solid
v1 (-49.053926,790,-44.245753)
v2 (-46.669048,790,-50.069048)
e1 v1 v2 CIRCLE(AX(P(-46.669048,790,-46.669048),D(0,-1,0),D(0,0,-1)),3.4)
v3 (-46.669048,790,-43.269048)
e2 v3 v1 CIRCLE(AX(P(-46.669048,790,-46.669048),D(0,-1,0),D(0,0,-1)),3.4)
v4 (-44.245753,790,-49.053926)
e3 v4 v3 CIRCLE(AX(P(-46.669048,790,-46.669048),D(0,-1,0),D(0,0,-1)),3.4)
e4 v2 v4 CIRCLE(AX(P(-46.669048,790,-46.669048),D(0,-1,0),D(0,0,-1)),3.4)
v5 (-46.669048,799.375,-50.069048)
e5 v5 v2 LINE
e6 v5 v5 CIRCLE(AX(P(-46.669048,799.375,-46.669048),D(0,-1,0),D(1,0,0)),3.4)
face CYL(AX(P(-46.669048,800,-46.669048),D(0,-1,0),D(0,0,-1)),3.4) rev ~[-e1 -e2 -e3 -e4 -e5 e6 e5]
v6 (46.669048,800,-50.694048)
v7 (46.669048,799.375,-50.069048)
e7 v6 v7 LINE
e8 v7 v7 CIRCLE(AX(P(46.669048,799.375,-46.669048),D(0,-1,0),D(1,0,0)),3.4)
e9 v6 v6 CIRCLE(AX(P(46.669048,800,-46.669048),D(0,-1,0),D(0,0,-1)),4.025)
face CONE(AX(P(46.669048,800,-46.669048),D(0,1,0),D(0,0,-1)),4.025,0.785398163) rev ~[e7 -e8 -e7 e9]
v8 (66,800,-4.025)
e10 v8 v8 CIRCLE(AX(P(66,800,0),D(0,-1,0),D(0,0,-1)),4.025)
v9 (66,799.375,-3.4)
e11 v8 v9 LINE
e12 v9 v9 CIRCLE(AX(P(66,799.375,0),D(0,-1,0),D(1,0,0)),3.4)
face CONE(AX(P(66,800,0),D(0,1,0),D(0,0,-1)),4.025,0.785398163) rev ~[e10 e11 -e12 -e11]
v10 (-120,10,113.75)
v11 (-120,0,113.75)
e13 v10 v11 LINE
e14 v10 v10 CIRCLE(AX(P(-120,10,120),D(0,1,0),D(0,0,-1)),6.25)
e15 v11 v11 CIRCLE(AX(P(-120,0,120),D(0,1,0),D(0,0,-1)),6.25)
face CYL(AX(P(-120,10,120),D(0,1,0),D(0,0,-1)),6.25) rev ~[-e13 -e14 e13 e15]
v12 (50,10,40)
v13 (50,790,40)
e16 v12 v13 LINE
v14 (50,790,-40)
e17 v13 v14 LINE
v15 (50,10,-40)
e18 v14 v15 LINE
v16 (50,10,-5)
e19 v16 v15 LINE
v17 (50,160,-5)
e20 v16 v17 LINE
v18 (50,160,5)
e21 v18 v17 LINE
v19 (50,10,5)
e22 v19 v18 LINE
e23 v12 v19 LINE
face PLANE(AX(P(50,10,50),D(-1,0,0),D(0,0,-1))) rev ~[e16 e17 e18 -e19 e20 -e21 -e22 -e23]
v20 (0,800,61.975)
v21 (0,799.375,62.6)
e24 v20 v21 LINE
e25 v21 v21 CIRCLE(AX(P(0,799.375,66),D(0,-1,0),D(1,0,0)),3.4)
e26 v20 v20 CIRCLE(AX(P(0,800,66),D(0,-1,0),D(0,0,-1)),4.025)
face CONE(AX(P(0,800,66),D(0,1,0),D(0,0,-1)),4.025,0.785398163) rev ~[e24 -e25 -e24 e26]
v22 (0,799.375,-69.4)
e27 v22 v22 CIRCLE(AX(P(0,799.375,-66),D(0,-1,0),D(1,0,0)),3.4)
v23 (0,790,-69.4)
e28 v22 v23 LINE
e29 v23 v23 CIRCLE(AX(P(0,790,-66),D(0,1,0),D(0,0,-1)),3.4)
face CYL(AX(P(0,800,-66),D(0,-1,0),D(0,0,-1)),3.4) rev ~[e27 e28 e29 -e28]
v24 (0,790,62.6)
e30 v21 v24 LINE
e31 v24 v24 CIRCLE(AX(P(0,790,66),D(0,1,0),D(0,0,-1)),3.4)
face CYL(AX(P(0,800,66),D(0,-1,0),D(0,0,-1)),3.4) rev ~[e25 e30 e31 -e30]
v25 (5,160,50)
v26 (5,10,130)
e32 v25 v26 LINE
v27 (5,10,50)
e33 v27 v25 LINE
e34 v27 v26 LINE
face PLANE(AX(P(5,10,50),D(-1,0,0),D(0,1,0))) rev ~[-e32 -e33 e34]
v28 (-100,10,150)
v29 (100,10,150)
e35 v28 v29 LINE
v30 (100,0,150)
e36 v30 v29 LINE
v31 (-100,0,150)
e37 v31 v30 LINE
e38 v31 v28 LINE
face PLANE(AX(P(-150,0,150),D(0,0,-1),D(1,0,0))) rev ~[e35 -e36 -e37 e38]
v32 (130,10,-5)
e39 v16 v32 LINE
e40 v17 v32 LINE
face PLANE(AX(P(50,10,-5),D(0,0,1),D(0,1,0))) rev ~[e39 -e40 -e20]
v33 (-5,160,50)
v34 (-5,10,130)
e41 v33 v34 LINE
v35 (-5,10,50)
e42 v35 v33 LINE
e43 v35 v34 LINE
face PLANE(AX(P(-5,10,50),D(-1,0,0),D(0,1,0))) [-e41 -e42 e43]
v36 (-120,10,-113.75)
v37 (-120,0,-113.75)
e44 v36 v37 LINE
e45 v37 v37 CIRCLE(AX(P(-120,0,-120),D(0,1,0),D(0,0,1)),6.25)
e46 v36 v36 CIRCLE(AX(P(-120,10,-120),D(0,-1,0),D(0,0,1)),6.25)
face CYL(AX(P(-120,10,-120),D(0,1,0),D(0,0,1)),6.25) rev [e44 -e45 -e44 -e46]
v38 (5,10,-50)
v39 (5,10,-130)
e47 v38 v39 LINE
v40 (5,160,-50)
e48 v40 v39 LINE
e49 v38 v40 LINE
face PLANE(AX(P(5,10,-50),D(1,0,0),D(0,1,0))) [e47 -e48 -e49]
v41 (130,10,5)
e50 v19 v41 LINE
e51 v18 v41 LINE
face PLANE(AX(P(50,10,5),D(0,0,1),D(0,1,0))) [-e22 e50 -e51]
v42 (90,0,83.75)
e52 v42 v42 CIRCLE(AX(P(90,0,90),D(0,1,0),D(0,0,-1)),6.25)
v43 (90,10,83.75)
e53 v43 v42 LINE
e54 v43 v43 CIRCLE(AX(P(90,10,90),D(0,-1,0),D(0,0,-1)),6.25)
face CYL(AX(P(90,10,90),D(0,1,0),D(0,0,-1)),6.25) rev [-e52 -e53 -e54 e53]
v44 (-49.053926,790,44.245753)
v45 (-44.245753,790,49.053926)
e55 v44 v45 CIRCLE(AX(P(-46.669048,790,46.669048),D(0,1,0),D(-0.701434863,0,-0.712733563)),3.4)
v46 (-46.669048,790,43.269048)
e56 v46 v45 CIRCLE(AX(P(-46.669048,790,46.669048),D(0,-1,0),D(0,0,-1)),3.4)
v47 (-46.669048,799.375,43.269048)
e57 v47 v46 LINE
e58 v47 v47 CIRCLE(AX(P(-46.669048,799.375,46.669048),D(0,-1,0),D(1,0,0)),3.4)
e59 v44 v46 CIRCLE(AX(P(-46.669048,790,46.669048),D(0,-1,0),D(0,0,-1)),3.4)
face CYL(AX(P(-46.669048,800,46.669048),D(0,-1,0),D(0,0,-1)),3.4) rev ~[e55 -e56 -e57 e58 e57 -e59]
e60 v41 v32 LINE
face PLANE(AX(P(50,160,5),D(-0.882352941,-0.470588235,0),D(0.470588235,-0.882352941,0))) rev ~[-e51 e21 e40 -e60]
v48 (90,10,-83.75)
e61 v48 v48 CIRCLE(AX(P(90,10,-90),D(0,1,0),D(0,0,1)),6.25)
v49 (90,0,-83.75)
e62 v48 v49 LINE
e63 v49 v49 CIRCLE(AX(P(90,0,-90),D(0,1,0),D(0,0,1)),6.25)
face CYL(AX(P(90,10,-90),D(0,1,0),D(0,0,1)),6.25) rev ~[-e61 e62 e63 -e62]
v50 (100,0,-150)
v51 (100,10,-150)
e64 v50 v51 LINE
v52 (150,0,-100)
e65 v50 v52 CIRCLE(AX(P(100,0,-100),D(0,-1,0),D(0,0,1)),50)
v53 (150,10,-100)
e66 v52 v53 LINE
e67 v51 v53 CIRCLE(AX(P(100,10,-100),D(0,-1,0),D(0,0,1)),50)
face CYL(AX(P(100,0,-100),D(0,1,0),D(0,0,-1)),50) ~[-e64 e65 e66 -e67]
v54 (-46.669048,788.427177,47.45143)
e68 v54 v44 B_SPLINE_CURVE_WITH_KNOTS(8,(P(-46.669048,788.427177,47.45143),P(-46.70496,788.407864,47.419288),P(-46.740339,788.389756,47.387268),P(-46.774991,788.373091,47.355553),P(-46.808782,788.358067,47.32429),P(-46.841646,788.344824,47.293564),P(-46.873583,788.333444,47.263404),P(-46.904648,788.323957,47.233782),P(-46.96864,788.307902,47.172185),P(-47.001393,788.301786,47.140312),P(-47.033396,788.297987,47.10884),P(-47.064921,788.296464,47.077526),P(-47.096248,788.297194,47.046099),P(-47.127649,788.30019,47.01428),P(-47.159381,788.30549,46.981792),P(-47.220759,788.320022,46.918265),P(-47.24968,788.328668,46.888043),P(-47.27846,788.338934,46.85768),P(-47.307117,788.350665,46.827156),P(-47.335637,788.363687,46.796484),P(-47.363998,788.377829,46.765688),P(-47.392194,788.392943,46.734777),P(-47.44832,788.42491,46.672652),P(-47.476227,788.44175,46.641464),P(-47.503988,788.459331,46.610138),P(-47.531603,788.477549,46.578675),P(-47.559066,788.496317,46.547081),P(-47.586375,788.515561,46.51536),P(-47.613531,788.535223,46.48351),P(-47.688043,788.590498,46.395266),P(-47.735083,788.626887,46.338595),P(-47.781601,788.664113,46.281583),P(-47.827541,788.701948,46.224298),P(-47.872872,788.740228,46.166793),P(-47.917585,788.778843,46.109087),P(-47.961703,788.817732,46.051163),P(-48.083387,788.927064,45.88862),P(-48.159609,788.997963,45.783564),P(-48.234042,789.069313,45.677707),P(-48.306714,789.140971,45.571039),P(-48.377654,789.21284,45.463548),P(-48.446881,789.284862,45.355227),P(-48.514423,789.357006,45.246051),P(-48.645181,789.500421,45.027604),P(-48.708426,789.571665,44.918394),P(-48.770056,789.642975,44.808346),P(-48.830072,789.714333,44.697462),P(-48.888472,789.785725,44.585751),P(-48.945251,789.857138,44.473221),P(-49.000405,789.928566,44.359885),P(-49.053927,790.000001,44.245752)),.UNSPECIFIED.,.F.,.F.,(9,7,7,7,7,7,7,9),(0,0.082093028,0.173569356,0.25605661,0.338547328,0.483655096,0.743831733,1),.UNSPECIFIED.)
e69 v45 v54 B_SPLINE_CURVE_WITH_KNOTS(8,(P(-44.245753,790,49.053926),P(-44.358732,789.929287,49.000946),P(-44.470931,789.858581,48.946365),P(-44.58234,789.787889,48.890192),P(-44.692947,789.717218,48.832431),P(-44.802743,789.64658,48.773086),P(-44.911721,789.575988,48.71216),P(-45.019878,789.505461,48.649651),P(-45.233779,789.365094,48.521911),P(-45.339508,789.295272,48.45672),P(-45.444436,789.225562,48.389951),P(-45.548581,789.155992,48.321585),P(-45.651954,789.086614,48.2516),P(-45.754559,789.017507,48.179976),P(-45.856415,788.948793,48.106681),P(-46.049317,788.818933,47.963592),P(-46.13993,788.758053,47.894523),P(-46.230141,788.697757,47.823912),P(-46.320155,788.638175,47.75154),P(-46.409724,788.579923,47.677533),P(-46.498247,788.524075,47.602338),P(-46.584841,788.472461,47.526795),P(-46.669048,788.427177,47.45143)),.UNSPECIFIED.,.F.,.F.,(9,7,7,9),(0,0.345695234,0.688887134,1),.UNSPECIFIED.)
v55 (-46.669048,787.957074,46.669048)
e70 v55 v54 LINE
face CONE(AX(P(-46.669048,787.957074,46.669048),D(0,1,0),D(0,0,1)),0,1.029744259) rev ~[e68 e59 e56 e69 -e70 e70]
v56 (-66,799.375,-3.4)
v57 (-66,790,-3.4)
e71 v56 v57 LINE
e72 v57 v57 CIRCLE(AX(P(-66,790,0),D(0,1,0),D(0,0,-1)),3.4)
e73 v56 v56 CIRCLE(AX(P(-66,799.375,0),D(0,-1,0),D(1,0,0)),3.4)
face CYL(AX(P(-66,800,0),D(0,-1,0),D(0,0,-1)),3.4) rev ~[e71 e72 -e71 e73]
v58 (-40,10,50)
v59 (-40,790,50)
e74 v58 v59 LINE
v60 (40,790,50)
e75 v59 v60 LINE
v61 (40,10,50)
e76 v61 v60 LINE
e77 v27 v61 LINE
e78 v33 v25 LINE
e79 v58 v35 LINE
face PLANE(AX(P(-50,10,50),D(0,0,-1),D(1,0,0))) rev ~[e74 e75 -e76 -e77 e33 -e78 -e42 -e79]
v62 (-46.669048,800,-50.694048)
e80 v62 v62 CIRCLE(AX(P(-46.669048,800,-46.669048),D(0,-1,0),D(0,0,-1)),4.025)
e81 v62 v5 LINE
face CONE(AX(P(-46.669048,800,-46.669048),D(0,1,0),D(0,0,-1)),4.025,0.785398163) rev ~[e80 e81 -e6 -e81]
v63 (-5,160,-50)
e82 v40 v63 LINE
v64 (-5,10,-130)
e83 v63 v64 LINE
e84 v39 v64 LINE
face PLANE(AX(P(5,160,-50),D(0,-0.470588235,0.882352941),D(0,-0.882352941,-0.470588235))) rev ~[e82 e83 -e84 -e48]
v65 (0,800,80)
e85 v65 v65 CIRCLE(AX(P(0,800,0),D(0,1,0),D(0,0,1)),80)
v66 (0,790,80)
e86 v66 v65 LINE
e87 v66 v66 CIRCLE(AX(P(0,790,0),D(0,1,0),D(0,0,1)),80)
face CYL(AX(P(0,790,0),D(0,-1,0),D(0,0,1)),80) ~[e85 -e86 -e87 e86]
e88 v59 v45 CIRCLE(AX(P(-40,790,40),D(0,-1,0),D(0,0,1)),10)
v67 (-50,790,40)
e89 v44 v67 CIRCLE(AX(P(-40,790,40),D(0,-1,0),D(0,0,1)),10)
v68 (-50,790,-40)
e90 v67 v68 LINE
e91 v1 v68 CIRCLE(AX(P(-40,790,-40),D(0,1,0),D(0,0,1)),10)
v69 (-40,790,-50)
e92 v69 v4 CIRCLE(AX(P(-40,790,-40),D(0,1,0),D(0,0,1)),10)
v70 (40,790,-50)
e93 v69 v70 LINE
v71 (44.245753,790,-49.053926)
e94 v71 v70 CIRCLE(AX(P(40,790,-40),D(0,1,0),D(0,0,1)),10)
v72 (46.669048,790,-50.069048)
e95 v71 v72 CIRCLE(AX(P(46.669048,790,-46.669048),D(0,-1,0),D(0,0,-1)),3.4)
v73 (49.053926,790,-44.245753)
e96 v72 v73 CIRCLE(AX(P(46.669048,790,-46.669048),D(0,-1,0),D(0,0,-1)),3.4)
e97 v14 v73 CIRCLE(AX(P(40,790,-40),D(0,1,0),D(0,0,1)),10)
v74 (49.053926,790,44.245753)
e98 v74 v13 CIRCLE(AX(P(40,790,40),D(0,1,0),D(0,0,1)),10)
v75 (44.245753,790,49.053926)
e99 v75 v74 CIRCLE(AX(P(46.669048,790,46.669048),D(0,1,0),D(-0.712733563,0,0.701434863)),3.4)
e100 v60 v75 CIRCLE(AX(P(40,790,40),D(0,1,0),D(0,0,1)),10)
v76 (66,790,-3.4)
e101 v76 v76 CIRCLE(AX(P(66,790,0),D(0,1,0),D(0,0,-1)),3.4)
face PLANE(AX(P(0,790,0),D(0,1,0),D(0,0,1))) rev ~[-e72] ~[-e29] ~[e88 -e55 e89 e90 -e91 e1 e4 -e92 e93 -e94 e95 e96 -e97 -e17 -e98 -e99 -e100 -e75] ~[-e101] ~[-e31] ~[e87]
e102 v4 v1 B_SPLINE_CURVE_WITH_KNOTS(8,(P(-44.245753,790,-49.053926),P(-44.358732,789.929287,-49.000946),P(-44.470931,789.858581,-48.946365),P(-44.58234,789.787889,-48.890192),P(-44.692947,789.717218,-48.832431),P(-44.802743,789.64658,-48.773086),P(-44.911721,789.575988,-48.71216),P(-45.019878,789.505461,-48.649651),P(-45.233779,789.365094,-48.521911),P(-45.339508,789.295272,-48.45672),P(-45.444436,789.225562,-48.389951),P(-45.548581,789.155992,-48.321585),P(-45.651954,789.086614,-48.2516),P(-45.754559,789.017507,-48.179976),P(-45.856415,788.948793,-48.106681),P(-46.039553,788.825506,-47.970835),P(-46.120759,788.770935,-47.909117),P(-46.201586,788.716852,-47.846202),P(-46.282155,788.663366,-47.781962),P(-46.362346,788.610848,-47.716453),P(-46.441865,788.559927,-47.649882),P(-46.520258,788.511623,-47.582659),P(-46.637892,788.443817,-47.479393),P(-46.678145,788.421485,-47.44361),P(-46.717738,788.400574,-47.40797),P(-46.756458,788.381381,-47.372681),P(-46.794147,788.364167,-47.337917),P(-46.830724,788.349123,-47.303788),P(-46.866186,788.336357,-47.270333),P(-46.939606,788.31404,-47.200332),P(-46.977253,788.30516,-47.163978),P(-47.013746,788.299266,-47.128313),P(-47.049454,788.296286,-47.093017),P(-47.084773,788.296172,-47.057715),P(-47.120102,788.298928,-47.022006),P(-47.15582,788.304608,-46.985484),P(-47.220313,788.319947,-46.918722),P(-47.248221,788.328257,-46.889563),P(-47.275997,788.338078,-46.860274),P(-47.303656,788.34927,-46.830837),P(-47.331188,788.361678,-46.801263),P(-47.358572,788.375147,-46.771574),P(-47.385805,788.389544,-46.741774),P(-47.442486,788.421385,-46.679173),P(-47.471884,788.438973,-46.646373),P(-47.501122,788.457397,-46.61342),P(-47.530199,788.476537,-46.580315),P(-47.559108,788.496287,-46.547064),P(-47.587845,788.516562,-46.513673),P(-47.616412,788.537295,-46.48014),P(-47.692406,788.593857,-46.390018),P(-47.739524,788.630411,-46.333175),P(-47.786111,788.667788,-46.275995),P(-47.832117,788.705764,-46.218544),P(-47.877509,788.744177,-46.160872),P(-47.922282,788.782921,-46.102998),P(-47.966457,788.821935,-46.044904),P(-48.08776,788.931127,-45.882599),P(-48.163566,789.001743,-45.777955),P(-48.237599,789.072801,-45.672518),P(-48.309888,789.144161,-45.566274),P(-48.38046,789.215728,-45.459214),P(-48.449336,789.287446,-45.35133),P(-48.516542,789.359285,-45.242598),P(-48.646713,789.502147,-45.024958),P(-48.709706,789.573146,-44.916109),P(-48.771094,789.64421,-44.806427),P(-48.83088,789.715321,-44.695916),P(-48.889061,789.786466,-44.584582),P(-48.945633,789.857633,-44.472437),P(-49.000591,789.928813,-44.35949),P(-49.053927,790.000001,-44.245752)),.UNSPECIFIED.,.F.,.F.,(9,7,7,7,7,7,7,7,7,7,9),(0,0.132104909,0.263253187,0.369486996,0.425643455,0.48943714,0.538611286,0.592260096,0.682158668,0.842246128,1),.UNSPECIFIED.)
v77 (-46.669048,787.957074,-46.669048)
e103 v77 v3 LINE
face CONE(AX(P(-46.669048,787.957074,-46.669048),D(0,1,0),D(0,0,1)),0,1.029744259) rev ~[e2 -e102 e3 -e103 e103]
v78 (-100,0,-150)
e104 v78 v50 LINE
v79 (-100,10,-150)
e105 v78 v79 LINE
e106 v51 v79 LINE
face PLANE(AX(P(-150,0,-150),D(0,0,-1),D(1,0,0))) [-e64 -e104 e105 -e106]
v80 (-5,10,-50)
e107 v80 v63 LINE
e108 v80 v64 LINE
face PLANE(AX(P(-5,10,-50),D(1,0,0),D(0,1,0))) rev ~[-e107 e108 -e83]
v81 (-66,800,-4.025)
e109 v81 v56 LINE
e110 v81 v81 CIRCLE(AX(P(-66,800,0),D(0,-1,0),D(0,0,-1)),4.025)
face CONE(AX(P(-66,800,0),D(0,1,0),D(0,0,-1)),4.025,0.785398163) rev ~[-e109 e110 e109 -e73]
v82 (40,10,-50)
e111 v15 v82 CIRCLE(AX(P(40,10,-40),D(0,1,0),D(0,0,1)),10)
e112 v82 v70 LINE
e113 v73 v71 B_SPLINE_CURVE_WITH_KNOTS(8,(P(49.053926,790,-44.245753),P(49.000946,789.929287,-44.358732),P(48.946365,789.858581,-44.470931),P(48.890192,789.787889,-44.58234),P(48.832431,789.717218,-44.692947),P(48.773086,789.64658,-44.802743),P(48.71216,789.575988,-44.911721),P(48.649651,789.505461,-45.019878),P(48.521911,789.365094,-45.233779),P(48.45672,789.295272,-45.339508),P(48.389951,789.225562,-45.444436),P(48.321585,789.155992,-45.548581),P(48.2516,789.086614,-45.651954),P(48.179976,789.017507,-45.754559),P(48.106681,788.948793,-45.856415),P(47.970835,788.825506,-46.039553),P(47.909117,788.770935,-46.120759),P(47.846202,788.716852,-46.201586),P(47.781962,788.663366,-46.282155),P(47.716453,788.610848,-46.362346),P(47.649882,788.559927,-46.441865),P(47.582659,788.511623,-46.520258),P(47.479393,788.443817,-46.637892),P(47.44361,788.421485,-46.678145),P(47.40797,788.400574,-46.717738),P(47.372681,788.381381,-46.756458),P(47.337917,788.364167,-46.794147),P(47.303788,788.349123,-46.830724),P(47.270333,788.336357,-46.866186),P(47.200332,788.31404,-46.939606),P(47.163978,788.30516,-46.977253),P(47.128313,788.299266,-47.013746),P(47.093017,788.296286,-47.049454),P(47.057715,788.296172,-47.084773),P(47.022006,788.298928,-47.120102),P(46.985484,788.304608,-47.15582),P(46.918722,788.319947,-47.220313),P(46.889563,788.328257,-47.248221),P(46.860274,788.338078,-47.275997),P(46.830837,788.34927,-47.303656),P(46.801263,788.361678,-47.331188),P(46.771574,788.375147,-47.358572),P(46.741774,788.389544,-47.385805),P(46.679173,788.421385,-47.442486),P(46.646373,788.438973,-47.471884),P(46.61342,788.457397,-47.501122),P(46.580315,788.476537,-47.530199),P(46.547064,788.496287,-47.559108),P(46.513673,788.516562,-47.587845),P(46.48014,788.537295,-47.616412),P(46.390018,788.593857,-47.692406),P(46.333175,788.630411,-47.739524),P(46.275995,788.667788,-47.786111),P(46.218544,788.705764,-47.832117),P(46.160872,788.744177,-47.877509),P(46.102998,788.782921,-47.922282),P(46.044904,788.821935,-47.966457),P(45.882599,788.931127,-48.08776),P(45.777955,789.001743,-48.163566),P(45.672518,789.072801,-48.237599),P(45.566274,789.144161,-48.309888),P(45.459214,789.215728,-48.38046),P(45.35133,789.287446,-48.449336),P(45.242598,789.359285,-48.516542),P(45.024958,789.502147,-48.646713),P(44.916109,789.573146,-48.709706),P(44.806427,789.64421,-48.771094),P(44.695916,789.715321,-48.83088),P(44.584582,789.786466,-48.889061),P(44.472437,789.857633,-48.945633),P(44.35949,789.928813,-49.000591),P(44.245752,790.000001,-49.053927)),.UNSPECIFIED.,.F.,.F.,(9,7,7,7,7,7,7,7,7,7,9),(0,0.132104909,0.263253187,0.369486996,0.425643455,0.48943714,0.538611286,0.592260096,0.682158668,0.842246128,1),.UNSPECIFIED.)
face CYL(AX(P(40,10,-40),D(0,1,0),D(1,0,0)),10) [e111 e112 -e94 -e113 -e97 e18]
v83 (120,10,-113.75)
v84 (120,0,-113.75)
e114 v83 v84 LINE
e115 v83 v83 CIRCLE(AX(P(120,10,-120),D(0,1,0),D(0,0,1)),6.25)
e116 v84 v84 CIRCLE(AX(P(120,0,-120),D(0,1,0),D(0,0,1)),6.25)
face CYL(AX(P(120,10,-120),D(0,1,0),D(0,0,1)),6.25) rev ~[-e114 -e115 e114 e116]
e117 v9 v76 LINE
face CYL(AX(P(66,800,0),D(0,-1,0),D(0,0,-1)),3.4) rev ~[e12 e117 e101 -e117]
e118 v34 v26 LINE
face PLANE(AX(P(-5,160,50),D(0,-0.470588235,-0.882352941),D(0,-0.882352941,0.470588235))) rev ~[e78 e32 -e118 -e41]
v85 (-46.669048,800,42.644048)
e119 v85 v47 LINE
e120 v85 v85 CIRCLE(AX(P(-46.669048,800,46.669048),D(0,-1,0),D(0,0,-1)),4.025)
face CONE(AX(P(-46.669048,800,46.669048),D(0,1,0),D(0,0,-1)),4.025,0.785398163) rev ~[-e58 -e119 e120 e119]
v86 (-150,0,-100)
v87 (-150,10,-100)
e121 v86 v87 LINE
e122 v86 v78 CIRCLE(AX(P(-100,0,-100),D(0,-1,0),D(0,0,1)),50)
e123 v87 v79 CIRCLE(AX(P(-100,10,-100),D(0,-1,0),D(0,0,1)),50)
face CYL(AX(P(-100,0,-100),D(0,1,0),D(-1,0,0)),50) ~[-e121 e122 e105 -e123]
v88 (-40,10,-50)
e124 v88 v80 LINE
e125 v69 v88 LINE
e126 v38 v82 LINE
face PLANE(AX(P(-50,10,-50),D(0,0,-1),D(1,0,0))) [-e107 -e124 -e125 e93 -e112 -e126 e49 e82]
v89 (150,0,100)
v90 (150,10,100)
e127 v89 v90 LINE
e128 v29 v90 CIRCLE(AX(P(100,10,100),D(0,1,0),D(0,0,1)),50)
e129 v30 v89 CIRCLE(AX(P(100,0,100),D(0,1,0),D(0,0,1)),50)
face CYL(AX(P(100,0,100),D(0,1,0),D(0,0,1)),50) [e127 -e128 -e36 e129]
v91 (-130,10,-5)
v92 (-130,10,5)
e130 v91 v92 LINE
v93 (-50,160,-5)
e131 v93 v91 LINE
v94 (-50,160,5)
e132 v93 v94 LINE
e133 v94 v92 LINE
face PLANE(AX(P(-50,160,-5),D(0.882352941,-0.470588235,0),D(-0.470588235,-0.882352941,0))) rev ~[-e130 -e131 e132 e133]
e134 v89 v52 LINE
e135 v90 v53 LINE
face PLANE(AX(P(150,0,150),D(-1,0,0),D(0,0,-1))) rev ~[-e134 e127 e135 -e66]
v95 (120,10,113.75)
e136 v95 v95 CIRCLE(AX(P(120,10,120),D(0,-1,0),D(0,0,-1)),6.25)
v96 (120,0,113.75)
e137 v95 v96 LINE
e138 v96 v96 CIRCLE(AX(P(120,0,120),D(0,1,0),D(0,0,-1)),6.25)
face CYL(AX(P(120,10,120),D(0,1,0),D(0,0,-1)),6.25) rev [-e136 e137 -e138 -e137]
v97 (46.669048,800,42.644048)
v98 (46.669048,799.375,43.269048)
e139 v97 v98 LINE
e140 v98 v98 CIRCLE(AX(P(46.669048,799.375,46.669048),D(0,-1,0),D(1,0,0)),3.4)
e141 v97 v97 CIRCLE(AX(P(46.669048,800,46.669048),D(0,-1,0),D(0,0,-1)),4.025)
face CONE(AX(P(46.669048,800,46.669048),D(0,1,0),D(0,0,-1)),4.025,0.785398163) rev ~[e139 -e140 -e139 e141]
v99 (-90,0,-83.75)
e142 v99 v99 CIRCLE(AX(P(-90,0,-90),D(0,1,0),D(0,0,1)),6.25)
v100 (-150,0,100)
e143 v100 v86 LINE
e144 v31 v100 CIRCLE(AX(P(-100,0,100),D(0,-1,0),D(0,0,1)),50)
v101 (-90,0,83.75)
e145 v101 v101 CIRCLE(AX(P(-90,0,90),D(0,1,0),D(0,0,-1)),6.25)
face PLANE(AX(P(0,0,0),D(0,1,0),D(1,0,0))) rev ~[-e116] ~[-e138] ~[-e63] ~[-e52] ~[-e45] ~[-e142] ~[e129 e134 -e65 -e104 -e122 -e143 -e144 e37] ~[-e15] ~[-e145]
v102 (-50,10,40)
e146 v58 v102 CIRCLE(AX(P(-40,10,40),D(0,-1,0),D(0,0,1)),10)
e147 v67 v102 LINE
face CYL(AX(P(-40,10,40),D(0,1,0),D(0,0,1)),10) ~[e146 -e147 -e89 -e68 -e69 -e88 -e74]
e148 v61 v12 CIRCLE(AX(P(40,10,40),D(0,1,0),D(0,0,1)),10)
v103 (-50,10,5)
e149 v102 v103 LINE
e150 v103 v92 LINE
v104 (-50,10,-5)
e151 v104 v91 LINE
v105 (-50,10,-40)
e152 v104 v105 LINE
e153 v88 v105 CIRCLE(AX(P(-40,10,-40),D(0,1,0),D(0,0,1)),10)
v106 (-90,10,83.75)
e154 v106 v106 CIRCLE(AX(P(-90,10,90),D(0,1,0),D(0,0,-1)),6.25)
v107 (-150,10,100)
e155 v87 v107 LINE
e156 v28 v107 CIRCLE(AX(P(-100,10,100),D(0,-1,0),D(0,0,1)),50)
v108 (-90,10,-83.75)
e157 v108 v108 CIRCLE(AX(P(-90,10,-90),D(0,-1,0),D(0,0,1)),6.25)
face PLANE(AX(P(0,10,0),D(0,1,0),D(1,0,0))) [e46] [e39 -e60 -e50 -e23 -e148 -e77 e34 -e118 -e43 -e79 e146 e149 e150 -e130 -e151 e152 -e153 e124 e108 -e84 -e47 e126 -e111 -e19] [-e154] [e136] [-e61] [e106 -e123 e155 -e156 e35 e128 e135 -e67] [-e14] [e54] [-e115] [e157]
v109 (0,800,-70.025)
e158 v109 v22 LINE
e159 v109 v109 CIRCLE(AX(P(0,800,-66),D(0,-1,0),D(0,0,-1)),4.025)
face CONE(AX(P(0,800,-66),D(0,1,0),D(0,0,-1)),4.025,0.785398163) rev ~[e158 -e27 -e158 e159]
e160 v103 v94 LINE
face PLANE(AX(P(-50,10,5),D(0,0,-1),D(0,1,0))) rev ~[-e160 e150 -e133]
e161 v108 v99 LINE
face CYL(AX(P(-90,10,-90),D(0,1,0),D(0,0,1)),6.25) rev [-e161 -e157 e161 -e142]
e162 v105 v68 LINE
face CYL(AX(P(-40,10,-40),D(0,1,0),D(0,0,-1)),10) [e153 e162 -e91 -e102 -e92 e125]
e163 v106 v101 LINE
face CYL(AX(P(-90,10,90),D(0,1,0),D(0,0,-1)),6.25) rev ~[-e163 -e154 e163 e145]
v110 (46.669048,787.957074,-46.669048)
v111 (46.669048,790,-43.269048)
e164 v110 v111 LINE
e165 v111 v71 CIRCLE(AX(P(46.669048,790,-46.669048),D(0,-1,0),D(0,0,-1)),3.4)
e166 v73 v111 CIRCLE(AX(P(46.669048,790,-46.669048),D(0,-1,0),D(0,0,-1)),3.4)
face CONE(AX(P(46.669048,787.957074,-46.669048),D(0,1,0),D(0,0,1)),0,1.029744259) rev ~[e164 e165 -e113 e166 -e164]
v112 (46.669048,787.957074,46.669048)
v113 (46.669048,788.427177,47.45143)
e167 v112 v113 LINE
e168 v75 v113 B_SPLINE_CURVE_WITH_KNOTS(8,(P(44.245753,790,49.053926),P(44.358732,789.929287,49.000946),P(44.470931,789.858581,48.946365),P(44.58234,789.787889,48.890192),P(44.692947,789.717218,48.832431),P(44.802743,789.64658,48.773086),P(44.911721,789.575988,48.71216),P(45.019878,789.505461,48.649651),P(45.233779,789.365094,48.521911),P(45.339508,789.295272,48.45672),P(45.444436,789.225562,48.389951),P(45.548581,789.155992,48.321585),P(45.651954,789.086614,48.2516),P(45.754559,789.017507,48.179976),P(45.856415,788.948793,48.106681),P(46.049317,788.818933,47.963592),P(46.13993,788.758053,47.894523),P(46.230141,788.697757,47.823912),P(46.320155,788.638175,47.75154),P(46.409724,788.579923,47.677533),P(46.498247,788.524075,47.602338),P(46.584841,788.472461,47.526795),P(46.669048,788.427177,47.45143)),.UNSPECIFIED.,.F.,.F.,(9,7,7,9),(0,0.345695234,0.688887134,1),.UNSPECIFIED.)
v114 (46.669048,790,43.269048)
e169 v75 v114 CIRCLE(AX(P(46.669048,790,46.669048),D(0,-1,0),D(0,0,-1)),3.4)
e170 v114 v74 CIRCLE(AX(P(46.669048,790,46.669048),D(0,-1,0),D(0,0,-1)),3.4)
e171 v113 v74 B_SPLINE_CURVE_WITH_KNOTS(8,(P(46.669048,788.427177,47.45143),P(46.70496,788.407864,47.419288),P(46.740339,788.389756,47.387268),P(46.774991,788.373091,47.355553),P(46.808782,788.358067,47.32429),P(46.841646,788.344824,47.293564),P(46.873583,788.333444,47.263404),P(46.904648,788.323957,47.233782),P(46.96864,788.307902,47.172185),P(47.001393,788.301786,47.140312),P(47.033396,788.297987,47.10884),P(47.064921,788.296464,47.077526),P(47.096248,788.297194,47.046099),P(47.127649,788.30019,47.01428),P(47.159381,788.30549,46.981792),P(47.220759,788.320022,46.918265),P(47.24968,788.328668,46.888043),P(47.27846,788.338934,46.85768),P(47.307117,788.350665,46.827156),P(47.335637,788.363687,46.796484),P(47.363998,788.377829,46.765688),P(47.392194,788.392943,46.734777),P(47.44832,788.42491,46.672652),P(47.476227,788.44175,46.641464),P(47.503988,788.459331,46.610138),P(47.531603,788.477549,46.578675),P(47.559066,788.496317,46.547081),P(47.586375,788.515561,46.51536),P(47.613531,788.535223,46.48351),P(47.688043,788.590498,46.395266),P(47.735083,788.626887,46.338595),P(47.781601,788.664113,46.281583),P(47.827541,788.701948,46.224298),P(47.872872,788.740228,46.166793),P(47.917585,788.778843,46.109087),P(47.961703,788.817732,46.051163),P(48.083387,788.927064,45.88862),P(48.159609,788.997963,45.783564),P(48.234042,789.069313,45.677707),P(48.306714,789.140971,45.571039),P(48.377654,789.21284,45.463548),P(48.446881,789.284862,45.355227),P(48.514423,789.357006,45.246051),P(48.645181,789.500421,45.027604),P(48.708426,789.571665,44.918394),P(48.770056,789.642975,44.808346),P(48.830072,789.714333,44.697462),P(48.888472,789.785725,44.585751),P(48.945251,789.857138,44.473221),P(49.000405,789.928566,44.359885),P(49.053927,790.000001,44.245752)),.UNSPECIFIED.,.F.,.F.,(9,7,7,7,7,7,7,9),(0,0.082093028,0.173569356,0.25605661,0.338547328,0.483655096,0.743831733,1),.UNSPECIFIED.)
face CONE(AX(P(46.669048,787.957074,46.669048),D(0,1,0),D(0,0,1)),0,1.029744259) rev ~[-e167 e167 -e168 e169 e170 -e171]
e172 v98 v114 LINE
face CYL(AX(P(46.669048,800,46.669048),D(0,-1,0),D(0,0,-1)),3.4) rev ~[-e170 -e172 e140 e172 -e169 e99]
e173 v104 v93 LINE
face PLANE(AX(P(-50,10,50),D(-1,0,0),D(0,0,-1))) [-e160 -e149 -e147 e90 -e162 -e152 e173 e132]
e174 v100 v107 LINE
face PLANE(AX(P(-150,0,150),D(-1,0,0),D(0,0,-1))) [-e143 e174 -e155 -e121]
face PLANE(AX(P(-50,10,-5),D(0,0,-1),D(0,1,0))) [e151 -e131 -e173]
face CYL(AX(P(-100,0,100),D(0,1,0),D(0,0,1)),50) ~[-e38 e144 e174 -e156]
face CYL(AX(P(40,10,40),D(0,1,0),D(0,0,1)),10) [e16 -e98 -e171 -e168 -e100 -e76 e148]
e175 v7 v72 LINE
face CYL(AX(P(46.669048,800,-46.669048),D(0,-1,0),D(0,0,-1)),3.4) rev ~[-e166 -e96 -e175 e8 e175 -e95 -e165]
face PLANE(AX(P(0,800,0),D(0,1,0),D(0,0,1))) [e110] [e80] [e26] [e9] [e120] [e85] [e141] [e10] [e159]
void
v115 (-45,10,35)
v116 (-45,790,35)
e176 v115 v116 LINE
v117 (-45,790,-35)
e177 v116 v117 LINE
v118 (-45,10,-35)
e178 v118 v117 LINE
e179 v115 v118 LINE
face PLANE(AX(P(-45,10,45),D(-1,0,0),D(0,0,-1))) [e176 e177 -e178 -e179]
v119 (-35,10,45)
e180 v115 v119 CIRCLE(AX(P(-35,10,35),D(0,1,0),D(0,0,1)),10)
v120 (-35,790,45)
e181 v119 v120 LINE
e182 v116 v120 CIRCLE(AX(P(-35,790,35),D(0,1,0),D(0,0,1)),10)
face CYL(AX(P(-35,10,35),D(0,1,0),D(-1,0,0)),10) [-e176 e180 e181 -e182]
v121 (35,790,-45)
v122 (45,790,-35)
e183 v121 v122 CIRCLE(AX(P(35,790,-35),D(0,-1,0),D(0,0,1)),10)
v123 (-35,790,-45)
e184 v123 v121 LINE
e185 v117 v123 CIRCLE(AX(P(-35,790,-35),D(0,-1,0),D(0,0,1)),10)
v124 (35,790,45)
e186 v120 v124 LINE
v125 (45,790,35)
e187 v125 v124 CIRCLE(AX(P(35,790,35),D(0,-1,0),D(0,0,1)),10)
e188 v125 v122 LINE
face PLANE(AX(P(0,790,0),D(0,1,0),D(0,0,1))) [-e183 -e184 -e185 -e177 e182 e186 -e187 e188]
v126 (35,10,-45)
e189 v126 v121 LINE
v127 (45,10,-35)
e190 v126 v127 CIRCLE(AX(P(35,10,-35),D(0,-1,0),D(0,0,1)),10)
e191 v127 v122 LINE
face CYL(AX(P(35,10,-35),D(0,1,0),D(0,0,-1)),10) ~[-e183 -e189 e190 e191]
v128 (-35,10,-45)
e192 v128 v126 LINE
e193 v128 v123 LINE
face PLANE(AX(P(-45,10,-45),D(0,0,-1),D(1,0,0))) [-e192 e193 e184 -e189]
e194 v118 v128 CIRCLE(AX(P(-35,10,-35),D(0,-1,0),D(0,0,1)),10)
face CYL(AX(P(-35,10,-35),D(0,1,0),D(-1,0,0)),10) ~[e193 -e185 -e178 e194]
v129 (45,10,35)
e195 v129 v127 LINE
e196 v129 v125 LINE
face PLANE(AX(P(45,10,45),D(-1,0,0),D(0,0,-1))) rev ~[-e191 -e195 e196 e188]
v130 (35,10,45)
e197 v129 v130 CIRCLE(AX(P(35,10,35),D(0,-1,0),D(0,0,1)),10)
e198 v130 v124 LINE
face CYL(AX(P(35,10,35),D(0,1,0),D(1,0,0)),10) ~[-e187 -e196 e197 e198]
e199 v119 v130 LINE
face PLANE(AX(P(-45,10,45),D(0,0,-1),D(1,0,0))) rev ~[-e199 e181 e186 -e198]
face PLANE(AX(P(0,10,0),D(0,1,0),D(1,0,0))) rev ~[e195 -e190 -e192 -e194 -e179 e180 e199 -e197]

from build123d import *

# Parameters (mm, degrees)
SKETCH_1_W                   = 300
SKETCH_1_H                   = 300
EXTRUDE_1_DEPTH              = 10
SKETCH_2_W                   = 100
SKETCH_2_H                   = 100
SKETCH_2_W_2                 = 90
SKETCH_2_H_2                 = 90
EXTRUDE_2_DEPTH              = 780
SKETCH_3_R                   = 80
EXTRUDE_4_DEPTH              = 10
FILLET_3_R                   = 10
HOLE_WIZARD_M8_1_D           = 6.8
HOLE_WIZARD_M8_1_DEPTH       = 10
HOLE_WIZARD_M8_1_CSINK_D     = 8.05
HOLE_WIZARD_M8_1_CSINK_ANGLE = 90
HOLE_WIZARD_M8_1_TIP         = 2.042926105
SKETCH_7_R                   = 6.25
CUT_EXTRUDE_1_DEPTH          = 818.985329942
MIRROR_2_COPY_1_SKETCH_R     = 6.25
MIRROR_2_COPY_1_DEPTH        = 818.985329942
SKETCH_8_W                   = 10
SKETCH_8_H                   = 150
EXTRUDE_5_DEPTH              = 80
CUT_EXTRUDE_2_DEPTH          = 829.568041865
PATTERN_CIRCULAR_1_COUNT     = 4
FILLET_4_R                   = 50


with BuildPart() as part:
    # 草图1 → 凸台-拉伸1 (new body)
    with BuildSketch(Plane(origin=(0, 0, 0), x_dir=(1, 0, 0), z_dir=(0, 1, 0))):
        Rectangle(SKETCH_1_W, SKETCH_1_H)
    extrude(amount=EXTRUDE_1_DEPTH)

    # 草图2 → 凸台-拉伸2 (add)
    with BuildSketch(Plane(origin=(0, 10, 0), x_dir=(1, 0, 0), z_dir=(0, 1, 0))):
        Rectangle(SKETCH_2_W, SKETCH_2_H)
        Rectangle(SKETCH_2_W_2, SKETCH_2_H_2, mode=Mode.SUBTRACT)
    extrude(amount=EXTRUDE_2_DEPTH)

    # 草图3 → 凸台-拉伸4 (add)
    with BuildSketch(Plane(origin=(0, 790, 0), x_dir=(1, 0, 0), z_dir=(0, 1, 0))):
        with Locations(Location((0, 0, 0), (0, 0, 270))):
            Circle(SKETCH_3_R)
    extrude(amount=EXTRUDE_4_DEPTH)

    # 圆角3
    fillet_3_edges = [part.edges().sort_by_distance(p)[0] for p in [
        (50, 400, 50),
        (50, 400, -50),
        (-50, 400, -50),
        (-50, 400, 50),
        (45, 400, -45),
        (-45, 400, -45),
        (-45, 400, 45),
        (45, 400, 45),
    ]]
    fillet(fillet_3_edges, radius=FILLET_3_R)

    # M8 螺纹孔1
    with Locations(Plane(origin=(-66, 800, 0), x_dir=(0, 0, 1), z_dir=(0, 1, 0))):
        with Locations((0, 0), (-46.669047558, 19.330952442), (-66, 66), (-46.669047558, 112.669047558), (0, 132), (46.669047558, 112.669047558), (66, 66), (46.669047558, 19.330952442)):
            CounterSinkHole(HOLE_WIZARD_M8_1_D / 2, HOLE_WIZARD_M8_1_CSINK_D / 2, depth=HOLE_WIZARD_M8_1_DEPTH, counter_sink_angle=HOLE_WIZARD_M8_1_CSINK_ANGLE)
            with Locations((0, 0, -(HOLE_WIZARD_M8_1_DEPTH + HOLE_WIZARD_M8_1_TIP / 2))):  # 118° drill point
                Cone(0, HOLE_WIZARD_M8_1_D / 2, HOLE_WIZARD_M8_1_TIP, mode=Mode.SUBTRACT)

    # 草图7 → 切除-拉伸1 (cut, through all)
    with BuildSketch(Plane(origin=(0, 10, 0), x_dir=(1, 0, 0), z_dir=(0, 1, 0))):
        with Locations(Location((120, 120, 0), (0, 0, 270))):
            Circle(SKETCH_7_R)
        with Locations(Location((90, 90, 0), (0, 0, 270))):
            Circle(SKETCH_7_R)
    cut_extrude_1 = extrude(amount=-CUT_EXTRUDE_1_DEPTH, mode=Mode.SUBTRACT)

    # 镜向1: 切除-拉伸1 across plane
    add(cut_extrude_1.mirror(Plane.XY), mode=Mode.SUBTRACT)

    # 镜向2: 切除-拉伸1 across plane
    add(cut_extrude_1.mirror(Plane(origin=(0, 0, 0), x_dir=(0, 0, 1), z_dir=(1, 0, 0))), mode=Mode.SUBTRACT)

    # 镜向2 copy 1 sketch → 镜向2 copy 1 (cut, through all)
    with BuildSketch(Plane(origin=(0, 10, 0), x_dir=(-1, 0, 0), z_dir=(0, 1, 0))):
        with Locations(Location((120, 120, 0), (0, 0, 270))):
            Circle(MIRROR_2_COPY_1_SKETCH_R)
        with Locations(Location((90, 90, 0), (0, 0, 270))):
            Circle(MIRROR_2_COPY_1_SKETCH_R)
    extrude(amount=-MIRROR_2_COPY_1_DEPTH, mode=Mode.SUBTRACT)

    # 草图8 → 凸台-拉伸5 (add)
    with BuildSketch(Plane(origin=(0, 0, -50), x_dir=(-1, 0, 0), z_dir=(0, 0, -1))):
        with Locations((0, 85)):
            Rectangle(SKETCH_8_W, SKETCH_8_H)
    extrude_5 = extrude(amount=EXTRUDE_5_DEPTH)

    # 草图9 → 切除-拉伸2 (cut, through all)
    with BuildSketch(Plane(origin=(5, 0, 0), x_dir=(0, 0, -1), z_dir=(1, 0, 0))):
        Polygon((50, 160), (130, 10), (130, 160), align=None)
    cut_extrude_2 = extrude(amount=-CUT_EXTRUDE_2_DEPTH, mode=Mode.SUBTRACT)

    # 阵列(圆周)1: 凸台-拉伸5, 切除-拉伸2 ×4 about axis
    pattern_circular_1_axis = Axis((0, 0, 0), (0, 1, 0))
    add([extrude_5.rotate(pattern_circular_1_axis, i * 360 / PATTERN_CIRCULAR_1_COUNT) for i in range(1, PATTERN_CIRCULAR_1_COUNT)])
    add([cut_extrude_2.rotate(pattern_circular_1_axis, i * 360 / PATTERN_CIRCULAR_1_COUNT) for i in range(1, PATTERN_CIRCULAR_1_COUNT)], mode=Mode.SUBTRACT)

    # 圆角4
    fillet_4_edges = [part.edges().sort_by_distance(p)[0] for p in [
        (150, 5, 150),
        (-150, 5, 150),
        (-150, 5, -150),
        (150, 5, -150),
    ]]
    fillet(fillet_4_edges, radius=FILLET_4_R)


solid = part.part
